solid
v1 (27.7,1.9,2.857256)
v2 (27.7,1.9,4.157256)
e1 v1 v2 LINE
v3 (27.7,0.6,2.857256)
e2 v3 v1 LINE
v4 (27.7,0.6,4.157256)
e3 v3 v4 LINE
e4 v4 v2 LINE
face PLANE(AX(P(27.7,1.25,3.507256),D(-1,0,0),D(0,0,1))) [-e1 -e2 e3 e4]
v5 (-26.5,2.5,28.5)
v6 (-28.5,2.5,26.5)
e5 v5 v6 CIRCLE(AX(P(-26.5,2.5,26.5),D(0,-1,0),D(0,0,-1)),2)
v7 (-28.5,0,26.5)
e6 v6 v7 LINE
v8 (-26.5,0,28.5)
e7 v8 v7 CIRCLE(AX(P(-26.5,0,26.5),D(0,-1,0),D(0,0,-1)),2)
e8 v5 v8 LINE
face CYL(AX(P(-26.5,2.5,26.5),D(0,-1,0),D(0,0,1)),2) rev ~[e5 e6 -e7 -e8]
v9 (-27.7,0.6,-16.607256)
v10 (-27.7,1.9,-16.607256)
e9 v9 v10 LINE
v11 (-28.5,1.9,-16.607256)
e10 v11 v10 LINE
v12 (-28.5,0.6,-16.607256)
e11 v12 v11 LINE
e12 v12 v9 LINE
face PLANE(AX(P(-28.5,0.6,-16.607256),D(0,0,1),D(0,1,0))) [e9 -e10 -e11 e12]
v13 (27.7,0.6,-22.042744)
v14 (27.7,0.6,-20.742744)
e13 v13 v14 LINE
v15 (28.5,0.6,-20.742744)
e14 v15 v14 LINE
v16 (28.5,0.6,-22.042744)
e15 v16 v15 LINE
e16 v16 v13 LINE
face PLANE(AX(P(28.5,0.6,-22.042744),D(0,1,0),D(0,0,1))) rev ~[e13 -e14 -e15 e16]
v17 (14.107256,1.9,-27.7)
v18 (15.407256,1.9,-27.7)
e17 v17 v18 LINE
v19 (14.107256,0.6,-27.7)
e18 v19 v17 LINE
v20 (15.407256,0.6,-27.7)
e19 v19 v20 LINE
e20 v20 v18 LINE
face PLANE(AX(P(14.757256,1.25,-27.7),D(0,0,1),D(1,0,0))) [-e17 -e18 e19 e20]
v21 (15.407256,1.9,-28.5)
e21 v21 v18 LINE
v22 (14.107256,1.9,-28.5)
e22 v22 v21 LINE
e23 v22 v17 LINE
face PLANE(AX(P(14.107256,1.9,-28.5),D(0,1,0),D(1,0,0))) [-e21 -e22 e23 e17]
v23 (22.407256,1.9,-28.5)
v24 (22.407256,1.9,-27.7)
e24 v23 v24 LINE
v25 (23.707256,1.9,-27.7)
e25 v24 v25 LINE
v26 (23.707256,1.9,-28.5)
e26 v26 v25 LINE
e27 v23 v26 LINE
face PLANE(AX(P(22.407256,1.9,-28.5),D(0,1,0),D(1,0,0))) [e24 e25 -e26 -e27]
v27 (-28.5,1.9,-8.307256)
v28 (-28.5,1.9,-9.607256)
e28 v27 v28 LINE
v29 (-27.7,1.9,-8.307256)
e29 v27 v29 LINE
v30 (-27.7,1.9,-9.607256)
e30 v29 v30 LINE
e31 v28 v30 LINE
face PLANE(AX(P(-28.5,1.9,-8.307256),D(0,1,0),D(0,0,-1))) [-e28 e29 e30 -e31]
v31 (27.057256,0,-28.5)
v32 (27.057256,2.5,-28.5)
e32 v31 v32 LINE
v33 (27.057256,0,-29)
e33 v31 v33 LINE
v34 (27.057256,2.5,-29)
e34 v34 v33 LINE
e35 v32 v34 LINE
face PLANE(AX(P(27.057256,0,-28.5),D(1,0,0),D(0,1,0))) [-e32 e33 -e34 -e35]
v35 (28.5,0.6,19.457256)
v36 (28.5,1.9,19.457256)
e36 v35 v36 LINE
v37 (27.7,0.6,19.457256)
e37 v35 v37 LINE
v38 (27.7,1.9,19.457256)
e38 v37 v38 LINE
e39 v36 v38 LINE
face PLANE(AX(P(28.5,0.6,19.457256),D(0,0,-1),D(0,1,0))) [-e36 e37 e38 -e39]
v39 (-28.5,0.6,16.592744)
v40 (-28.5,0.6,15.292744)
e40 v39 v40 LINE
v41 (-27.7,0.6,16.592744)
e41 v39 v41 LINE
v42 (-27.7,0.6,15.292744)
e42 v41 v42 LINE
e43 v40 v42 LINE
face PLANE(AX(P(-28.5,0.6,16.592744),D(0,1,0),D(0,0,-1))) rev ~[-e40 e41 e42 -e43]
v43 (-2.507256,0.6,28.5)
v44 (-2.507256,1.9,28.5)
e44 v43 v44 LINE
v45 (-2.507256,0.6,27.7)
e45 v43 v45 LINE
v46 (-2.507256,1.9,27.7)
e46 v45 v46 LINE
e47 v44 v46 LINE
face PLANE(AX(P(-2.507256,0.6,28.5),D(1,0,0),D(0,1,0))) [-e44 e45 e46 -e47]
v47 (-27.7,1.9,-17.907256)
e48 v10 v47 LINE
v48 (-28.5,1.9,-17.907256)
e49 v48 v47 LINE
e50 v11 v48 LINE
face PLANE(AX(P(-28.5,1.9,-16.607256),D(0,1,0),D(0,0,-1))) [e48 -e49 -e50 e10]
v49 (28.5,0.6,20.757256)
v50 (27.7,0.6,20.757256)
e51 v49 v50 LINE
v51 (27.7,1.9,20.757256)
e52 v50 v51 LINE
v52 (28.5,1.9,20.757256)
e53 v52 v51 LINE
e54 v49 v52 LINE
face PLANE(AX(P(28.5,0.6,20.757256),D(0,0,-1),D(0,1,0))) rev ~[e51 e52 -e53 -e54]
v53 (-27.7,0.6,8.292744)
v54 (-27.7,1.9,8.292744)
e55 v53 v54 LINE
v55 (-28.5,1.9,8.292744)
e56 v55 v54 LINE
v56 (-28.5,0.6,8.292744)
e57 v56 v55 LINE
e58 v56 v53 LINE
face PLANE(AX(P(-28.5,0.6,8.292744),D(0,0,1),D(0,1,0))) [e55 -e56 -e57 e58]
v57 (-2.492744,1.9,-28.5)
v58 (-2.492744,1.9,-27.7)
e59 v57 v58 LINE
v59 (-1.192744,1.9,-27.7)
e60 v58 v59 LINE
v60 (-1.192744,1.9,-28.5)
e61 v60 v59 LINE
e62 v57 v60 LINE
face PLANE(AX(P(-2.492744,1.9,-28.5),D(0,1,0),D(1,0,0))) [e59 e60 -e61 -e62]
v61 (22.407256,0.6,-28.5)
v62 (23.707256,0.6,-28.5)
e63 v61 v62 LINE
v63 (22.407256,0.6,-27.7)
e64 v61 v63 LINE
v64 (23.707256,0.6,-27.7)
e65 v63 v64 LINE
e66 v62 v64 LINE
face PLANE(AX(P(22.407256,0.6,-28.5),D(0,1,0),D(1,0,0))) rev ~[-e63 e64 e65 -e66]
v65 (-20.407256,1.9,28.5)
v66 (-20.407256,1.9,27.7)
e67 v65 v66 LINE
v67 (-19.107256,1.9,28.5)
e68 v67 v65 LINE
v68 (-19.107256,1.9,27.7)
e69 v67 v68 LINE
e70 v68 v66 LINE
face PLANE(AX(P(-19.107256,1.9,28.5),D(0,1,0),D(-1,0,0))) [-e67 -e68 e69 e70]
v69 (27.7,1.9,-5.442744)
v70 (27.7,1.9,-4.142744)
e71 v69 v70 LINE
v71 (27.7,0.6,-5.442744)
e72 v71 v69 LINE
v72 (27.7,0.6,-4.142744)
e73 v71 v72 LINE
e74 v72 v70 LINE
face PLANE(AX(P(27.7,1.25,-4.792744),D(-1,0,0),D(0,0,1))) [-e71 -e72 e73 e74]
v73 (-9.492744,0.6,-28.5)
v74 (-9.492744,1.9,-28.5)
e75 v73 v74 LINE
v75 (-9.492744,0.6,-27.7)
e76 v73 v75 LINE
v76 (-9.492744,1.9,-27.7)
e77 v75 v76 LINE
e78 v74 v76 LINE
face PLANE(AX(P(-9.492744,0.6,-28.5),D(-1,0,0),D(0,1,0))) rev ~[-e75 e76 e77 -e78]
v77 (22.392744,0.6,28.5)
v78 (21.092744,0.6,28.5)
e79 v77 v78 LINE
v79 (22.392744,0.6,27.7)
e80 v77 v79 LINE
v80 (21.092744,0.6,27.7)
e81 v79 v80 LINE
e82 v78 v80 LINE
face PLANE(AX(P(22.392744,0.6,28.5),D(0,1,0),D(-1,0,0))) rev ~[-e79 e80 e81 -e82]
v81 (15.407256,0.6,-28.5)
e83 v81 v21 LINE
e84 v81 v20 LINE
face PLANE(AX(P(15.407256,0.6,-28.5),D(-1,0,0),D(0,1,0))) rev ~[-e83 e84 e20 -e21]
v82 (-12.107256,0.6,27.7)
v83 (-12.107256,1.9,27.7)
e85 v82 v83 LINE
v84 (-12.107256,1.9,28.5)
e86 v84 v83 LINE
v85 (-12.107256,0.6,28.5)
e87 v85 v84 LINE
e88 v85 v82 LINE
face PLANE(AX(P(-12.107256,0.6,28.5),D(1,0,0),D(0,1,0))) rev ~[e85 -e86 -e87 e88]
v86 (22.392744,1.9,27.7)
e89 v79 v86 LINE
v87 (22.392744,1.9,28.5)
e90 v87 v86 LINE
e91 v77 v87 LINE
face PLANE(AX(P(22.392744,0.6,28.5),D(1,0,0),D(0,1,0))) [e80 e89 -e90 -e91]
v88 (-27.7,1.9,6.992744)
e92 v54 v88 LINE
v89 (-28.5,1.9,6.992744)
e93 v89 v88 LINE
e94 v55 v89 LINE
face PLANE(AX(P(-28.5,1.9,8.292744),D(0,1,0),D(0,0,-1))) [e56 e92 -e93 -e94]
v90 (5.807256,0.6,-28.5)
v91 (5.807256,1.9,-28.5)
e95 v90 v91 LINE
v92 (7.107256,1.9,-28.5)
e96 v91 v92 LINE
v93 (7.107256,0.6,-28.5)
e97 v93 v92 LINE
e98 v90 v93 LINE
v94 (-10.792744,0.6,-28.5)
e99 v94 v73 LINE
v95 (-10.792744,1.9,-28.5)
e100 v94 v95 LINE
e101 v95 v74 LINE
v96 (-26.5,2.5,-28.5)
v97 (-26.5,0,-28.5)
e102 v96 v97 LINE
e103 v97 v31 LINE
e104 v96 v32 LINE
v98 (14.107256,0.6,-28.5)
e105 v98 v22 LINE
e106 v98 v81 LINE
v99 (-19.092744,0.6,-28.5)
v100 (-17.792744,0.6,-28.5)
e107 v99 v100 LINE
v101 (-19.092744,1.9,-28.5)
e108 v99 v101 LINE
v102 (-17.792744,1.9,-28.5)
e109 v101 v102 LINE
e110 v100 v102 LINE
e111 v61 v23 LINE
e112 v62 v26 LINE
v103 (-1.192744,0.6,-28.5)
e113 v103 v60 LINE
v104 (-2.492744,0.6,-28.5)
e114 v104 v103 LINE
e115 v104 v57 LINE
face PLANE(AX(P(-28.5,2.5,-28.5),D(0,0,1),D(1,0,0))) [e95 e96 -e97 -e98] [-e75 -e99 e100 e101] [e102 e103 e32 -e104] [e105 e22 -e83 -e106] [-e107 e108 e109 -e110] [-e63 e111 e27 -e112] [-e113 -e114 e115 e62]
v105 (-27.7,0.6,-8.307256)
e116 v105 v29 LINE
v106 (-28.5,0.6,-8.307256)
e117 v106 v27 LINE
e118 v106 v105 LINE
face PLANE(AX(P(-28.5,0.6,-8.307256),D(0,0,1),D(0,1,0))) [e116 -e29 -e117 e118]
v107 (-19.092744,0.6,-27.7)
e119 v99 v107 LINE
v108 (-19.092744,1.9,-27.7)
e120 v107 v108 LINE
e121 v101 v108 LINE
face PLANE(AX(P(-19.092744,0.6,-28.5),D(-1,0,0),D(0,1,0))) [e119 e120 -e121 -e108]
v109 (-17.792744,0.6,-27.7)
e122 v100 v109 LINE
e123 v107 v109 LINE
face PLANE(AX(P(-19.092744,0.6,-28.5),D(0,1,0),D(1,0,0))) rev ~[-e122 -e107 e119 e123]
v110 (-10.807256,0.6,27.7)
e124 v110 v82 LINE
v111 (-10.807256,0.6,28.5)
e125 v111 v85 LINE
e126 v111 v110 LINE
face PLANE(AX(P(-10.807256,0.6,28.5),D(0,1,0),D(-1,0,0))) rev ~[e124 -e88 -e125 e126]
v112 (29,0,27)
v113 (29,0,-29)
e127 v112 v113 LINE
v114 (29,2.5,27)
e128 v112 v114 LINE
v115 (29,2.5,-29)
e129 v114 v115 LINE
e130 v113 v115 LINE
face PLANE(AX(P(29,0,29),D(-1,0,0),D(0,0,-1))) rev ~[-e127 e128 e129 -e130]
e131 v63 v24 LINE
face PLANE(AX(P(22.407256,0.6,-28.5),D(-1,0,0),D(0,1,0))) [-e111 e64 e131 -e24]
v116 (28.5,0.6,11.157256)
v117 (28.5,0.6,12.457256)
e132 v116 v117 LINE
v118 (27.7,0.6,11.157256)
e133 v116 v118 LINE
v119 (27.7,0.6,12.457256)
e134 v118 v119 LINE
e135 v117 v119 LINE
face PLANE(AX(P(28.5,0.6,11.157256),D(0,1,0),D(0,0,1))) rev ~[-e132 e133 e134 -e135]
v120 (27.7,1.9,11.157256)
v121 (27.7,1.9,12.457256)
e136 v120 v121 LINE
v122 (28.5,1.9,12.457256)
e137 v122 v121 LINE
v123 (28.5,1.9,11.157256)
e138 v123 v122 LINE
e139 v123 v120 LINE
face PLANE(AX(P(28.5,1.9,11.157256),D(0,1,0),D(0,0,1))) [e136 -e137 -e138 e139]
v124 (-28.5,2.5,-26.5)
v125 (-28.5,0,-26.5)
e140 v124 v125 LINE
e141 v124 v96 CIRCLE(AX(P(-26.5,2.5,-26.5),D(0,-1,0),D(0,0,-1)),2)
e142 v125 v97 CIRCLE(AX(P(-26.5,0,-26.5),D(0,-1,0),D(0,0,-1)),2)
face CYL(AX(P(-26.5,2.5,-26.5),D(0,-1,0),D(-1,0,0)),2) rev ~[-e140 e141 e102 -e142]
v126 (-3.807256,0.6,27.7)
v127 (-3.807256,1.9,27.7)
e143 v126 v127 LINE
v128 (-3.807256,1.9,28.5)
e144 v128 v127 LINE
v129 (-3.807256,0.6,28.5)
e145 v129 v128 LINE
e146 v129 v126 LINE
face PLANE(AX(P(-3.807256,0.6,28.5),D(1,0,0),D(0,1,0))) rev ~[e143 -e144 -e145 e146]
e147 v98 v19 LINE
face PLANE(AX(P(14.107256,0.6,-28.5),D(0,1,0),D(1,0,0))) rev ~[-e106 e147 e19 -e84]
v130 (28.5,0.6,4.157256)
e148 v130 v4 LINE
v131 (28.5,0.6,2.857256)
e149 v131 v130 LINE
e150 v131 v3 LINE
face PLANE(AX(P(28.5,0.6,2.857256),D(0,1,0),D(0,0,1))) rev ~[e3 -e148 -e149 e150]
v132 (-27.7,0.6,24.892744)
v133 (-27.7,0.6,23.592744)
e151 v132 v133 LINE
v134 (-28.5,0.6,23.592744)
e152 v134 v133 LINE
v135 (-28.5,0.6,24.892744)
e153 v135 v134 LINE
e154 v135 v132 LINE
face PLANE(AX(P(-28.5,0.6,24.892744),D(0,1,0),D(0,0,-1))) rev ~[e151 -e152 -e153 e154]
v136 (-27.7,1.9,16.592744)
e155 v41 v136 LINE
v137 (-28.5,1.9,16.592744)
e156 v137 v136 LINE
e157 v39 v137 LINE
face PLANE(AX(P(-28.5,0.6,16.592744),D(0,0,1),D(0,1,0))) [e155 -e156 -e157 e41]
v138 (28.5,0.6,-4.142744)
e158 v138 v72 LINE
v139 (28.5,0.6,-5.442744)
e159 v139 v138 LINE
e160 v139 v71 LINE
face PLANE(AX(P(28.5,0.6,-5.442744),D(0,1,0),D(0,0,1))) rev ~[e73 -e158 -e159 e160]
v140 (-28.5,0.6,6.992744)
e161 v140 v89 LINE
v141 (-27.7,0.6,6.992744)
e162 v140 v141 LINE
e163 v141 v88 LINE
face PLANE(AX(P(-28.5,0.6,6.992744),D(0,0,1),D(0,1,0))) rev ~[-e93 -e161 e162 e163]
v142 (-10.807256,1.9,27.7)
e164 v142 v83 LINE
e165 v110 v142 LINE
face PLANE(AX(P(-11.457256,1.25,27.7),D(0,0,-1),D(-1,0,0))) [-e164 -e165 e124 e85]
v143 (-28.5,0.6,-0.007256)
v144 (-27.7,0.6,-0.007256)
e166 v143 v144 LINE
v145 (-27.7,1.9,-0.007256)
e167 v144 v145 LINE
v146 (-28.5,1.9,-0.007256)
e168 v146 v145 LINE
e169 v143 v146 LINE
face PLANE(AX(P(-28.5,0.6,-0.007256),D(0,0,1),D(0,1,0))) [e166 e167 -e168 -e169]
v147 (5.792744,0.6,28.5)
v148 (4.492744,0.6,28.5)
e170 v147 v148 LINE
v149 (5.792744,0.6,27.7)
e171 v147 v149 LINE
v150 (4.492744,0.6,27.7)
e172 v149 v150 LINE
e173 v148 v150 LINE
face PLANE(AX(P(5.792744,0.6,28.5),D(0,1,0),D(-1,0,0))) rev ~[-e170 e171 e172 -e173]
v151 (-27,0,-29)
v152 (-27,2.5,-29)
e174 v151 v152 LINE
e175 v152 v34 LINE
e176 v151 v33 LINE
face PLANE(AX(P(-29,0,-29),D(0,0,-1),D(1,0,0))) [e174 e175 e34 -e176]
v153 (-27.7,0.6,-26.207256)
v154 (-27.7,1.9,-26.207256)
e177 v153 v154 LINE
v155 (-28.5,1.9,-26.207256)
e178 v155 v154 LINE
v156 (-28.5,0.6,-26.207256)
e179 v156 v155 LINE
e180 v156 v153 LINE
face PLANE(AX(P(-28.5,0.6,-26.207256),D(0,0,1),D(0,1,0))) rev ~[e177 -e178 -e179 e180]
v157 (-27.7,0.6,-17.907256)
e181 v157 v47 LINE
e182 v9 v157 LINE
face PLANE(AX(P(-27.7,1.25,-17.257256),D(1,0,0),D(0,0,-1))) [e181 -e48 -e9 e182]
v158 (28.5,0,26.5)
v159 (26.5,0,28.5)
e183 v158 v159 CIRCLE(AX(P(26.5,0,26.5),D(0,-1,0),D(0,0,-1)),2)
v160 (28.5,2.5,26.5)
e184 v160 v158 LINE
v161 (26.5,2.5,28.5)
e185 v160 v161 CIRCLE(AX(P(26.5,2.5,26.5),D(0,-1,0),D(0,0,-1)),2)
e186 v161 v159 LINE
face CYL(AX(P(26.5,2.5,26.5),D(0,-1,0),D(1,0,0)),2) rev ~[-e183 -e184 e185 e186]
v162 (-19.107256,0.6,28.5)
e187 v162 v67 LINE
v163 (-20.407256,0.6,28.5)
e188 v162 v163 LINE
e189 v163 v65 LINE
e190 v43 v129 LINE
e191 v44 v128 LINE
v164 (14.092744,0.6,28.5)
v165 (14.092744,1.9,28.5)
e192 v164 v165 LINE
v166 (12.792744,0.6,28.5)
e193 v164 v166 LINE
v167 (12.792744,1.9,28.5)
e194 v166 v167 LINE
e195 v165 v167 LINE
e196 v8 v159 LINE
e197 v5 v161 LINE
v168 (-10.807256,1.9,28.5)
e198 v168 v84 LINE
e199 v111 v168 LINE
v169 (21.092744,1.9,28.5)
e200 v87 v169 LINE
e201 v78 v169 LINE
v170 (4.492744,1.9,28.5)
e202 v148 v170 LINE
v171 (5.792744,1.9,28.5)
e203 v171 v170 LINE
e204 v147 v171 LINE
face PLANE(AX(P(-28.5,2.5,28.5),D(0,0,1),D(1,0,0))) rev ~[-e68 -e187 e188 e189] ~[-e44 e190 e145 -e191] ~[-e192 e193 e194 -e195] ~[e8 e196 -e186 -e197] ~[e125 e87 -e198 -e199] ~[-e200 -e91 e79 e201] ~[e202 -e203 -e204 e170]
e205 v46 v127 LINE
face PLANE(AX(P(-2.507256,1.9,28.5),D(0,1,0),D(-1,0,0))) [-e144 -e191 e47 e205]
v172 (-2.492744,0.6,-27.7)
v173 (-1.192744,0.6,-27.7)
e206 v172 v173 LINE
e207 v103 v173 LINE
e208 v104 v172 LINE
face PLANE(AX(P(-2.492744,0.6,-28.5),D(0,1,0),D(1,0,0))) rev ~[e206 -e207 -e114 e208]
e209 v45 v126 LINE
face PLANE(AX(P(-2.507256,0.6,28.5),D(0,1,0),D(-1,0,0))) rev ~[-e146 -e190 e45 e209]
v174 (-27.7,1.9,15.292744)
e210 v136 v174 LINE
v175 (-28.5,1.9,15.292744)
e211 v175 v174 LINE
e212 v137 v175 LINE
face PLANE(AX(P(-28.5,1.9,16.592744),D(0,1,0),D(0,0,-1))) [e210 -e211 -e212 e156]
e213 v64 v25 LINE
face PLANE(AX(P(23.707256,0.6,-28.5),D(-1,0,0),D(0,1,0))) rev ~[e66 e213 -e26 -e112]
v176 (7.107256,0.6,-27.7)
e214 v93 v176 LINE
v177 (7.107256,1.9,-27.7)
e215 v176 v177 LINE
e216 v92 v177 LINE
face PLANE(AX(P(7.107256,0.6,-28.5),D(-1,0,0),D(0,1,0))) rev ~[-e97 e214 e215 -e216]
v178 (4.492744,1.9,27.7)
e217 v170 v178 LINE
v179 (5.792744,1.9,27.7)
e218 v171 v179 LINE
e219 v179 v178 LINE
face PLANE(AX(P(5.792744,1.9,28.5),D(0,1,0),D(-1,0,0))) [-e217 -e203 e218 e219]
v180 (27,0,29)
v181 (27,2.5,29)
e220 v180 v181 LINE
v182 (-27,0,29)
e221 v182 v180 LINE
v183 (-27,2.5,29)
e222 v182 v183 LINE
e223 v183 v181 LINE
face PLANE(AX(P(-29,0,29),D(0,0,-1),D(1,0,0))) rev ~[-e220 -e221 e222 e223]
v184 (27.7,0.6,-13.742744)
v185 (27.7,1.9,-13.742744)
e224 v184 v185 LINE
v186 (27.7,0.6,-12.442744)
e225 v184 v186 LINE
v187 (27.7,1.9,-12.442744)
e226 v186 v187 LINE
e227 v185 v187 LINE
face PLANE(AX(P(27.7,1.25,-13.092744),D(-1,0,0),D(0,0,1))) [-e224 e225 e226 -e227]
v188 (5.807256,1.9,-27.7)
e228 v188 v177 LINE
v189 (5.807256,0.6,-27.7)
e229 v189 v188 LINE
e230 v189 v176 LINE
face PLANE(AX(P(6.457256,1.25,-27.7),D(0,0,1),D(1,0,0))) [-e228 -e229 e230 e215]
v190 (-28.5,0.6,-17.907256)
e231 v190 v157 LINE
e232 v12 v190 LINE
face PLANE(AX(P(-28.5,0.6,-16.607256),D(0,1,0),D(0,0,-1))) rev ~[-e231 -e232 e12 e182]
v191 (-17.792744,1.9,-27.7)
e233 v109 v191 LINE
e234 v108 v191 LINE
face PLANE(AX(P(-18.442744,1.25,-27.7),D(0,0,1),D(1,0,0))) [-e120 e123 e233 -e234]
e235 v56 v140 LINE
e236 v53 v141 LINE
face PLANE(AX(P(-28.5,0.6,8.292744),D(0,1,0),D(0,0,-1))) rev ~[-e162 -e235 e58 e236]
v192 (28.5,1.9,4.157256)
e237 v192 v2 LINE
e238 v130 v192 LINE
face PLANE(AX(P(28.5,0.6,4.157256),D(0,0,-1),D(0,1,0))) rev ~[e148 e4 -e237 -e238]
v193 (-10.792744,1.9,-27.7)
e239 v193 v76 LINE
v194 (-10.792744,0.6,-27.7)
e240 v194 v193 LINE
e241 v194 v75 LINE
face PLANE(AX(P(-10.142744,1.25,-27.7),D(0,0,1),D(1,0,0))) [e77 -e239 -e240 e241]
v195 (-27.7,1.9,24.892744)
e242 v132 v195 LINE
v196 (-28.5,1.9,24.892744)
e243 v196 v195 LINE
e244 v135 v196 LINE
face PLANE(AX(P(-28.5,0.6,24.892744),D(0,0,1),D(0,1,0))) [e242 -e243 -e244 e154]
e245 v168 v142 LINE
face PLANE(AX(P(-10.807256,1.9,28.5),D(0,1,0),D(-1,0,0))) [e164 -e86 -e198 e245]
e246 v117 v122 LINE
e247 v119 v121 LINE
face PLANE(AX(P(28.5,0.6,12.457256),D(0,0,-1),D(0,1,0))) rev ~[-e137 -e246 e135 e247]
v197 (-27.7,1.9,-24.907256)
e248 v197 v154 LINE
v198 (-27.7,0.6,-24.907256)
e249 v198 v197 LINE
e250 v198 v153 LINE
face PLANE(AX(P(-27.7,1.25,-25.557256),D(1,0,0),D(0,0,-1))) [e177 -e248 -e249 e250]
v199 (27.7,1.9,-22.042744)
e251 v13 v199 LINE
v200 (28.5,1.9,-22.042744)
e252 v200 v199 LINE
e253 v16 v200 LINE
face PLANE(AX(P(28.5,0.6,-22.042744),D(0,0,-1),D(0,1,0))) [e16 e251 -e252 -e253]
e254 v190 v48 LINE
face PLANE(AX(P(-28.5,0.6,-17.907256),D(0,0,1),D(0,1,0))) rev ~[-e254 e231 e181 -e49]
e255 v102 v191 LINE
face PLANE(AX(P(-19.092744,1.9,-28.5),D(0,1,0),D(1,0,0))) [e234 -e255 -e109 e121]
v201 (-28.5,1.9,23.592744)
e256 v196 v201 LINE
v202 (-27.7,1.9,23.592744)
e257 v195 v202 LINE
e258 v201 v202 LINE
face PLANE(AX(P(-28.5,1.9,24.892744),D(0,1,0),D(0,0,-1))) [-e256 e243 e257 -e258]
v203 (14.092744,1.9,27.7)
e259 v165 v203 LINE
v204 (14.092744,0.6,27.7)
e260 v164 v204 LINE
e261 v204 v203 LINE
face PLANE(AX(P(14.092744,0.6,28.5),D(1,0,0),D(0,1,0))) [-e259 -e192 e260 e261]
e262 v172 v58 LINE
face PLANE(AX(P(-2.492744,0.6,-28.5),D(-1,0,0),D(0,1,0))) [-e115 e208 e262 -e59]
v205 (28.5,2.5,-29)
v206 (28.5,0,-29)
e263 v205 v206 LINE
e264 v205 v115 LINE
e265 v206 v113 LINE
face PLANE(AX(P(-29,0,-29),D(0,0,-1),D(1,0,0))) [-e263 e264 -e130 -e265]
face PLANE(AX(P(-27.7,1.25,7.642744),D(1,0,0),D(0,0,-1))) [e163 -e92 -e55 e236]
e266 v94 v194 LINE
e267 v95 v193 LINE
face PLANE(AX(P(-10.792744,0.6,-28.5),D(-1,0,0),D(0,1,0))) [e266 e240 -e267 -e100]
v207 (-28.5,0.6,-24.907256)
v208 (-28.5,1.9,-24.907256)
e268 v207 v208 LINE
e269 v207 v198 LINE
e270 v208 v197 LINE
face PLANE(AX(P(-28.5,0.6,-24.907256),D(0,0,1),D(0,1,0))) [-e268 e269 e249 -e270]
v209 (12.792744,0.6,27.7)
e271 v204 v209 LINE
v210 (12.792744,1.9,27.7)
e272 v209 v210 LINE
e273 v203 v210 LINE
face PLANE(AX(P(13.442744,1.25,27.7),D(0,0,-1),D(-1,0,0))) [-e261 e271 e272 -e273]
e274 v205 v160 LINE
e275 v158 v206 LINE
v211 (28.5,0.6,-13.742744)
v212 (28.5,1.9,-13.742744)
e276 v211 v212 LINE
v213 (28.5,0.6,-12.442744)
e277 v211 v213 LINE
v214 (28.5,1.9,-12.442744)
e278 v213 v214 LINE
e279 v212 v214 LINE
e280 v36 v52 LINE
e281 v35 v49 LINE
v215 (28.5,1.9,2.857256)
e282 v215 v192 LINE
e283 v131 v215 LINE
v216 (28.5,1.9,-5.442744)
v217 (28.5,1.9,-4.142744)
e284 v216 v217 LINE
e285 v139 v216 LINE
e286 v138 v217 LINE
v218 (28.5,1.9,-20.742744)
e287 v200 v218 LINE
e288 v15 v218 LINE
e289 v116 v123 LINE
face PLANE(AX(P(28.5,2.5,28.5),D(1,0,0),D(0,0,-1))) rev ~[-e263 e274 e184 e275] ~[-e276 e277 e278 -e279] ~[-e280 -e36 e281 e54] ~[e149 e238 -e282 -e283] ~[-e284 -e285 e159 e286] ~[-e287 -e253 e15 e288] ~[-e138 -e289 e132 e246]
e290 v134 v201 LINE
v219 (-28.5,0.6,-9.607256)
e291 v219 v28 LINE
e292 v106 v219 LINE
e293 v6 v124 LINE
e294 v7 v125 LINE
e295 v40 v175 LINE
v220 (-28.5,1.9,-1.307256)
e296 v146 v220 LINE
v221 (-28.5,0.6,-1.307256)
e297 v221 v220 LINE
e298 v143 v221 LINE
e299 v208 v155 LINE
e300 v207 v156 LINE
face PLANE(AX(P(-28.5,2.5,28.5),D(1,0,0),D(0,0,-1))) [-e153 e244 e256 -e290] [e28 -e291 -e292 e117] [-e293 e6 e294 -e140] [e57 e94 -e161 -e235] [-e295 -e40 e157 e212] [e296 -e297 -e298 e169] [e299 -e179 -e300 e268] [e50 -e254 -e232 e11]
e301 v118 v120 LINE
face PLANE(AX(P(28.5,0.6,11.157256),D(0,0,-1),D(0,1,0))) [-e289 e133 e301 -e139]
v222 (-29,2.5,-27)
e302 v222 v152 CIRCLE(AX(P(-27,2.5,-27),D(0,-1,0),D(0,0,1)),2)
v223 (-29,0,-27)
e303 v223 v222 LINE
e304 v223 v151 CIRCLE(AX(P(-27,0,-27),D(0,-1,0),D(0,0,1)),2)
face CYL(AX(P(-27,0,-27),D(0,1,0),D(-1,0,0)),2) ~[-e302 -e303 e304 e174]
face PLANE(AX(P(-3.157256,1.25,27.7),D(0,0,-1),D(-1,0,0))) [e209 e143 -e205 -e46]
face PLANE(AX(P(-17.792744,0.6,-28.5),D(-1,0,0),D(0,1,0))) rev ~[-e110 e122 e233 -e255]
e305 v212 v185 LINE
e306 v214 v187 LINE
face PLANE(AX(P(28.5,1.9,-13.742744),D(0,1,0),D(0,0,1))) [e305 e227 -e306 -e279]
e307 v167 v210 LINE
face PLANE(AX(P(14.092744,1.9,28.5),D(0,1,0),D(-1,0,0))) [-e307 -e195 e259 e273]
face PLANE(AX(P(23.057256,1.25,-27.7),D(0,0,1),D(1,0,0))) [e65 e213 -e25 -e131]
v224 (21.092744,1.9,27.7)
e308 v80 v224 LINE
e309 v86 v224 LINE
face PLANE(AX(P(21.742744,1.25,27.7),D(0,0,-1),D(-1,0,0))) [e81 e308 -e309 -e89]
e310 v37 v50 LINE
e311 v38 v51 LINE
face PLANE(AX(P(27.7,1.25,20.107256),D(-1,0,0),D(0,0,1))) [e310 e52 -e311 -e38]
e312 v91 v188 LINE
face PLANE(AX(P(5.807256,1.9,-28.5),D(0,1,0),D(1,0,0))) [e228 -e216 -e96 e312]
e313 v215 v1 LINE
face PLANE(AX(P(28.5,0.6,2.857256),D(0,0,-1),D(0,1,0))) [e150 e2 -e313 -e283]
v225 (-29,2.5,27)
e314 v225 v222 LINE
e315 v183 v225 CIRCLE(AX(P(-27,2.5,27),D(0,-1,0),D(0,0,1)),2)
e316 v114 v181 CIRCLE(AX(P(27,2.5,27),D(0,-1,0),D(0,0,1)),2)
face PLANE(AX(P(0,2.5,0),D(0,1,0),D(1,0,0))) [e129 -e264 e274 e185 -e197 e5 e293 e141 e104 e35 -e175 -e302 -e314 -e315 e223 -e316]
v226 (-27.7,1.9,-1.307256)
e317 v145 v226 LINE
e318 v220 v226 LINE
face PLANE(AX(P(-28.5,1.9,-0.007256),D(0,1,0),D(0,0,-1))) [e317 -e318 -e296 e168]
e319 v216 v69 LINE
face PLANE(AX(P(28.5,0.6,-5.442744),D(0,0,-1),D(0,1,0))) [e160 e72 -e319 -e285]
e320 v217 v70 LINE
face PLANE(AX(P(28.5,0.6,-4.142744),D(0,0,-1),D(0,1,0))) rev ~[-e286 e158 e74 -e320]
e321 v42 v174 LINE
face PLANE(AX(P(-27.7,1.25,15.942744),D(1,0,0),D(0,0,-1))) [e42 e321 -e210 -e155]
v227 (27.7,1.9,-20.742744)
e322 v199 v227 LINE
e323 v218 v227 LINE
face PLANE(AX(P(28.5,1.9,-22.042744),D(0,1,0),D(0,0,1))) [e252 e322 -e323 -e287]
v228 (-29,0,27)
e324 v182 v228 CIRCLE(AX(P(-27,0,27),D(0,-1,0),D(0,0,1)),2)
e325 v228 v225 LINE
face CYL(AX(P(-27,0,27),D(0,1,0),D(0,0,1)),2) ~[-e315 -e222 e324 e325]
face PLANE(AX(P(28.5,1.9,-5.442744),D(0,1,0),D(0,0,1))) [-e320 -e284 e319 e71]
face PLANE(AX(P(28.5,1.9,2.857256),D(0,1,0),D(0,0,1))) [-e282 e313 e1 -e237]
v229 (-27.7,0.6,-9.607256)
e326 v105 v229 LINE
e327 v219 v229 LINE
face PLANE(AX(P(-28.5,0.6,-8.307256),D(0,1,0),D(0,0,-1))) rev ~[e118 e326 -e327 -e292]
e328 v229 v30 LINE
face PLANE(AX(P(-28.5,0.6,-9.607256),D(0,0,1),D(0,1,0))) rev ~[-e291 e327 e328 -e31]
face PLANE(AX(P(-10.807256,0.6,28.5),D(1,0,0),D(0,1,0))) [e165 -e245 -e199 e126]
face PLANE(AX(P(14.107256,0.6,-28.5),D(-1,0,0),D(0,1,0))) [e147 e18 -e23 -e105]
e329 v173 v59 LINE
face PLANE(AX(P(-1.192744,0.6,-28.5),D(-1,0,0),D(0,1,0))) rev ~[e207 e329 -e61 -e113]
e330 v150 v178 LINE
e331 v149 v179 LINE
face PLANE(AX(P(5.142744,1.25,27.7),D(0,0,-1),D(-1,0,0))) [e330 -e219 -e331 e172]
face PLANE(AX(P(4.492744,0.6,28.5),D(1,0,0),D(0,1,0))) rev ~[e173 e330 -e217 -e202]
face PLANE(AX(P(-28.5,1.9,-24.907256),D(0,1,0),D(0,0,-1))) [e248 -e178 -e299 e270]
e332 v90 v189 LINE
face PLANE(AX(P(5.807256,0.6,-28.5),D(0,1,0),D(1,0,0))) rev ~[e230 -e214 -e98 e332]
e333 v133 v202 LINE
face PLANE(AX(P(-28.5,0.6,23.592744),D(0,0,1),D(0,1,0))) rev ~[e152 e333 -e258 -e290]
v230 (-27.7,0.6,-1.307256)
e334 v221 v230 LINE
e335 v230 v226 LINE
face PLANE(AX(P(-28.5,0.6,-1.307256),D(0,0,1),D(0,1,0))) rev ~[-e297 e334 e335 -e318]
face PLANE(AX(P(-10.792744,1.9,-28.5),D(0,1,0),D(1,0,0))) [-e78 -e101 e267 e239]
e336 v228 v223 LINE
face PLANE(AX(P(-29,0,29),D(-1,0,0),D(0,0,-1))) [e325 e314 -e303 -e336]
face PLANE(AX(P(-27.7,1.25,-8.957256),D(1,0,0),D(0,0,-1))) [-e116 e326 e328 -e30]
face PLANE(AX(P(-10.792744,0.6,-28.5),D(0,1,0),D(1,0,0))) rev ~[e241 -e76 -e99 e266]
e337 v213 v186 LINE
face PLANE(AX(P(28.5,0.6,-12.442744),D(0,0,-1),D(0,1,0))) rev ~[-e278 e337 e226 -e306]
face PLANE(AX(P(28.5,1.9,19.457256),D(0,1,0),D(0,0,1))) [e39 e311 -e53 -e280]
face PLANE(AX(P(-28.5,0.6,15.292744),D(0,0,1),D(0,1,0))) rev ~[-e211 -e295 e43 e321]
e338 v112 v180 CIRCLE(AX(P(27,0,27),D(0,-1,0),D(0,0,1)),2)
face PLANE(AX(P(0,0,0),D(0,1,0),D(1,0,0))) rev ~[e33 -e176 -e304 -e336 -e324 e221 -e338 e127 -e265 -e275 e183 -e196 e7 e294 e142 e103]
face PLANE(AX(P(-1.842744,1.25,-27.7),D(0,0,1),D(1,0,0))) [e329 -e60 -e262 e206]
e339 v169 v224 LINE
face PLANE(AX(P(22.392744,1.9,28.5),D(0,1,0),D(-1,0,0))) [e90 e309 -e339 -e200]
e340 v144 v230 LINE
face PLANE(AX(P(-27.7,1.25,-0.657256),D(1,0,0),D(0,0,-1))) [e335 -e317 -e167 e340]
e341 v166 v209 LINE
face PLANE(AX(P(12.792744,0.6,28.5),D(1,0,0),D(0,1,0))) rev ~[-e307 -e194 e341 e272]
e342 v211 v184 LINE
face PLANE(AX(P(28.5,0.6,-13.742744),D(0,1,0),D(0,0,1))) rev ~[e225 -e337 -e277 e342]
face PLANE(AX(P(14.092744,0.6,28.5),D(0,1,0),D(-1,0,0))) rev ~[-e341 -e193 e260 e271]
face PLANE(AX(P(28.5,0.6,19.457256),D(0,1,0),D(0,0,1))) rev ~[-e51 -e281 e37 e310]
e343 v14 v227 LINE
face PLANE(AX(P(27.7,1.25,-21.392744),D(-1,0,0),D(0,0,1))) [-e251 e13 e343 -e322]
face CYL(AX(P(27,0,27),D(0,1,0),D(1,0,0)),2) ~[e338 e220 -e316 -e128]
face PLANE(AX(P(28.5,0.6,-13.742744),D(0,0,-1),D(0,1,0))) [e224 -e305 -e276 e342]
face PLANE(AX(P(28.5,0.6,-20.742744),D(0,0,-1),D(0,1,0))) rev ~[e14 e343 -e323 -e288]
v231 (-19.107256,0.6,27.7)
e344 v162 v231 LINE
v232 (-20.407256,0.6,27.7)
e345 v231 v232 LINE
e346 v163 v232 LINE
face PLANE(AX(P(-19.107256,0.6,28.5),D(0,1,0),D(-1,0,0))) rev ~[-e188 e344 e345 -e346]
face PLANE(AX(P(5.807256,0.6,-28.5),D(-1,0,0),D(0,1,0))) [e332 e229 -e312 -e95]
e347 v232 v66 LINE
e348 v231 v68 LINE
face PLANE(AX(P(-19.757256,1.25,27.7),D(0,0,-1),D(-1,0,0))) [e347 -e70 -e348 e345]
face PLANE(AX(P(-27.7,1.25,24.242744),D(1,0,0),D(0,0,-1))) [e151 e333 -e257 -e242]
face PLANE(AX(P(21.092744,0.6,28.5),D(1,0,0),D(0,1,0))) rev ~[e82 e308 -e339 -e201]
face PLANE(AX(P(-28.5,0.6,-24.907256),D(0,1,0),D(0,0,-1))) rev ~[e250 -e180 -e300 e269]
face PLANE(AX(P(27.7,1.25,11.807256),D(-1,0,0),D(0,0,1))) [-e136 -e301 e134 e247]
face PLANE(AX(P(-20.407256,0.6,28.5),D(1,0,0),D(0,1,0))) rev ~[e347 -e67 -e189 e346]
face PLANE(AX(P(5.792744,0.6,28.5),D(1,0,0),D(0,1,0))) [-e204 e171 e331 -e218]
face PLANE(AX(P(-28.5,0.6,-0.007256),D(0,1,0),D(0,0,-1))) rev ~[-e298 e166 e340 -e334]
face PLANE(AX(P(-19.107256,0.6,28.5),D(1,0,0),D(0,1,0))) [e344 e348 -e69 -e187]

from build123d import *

# Parameters (mm, degrees)
SKETCH_1_W               = 58
SKETCH_1_H               = 58
EXTRUDE_1_DEPTH          = 2.5
SKETCH_2_W               = 57
SKETCH_2_H               = 57
CUT_EXTRUDE_7_DEPTH      = 1
CUT_EXTRUDE_7_DEPTH_BACK = 3.5
SKETCH_5_W               = 1.4427437
SKETCH_5_H               = 2.5
CUT_EXTRUDE_8_DEPTH      = 1.5
SKETCH_6_W               = 1.3
SKETCH_6_H               = 1.3
EXTRUDE_5_DEPTH          = 0.8
FILLET_4_R               = 2
FILLET_5_R               = 2
SKETCH_8_W               = 1.3
SKETCH_8_H               = 1.3
EXTRUDE_6_DEPTH          = 0.8
SKETCH_10_W              = 1.3
SKETCH_10_H              = 1.3
EXTRUDE_8_DEPTH          = 0.8
SKETCH_12_W              = 1.3
SKETCH_12_H              = 1.3
EXTRUDE_9_DEPTH          = 0.8


with BuildPart() as part:
    # 草图1 → 凸台-拉伸1 (new body)
    with BuildSketch(Plane(origin=(0, 0, 0), x_dir=(1, 0, 0), z_dir=(0, 1, 0))):
        Rectangle(SKETCH_1_W, SKETCH_1_H)
    extrude(amount=EXTRUDE_1_DEPTH)

    # 草图2 → 切除-拉伸7 (cut, two sides)
    with BuildSketch(Plane(origin=(0, 2.5, 0), x_dir=(1, 0, 0), z_dir=(0, 1, 0))) as cut_extrude_7_sk:
        Rectangle(SKETCH_2_W, SKETCH_2_H)
    extrude(amount=CUT_EXTRUDE_7_DEPTH, mode=Mode.SUBTRACT)
    extrude(cut_extrude_7_sk.sketch, amount=-CUT_EXTRUDE_7_DEPTH_BACK, mode=Mode.SUBTRACT)

    # 草图5 → 切除-拉伸8 (cut, through all)
    with BuildSketch(Plane.XY.offset(-28.5)):
        with Locations((27.77862815, 1.25)):
            Rectangle(SKETCH_5_W, SKETCH_5_H)
    extrude(amount=-CUT_EXTRUDE_8_DEPTH, mode=Mode.SUBTRACT)

    # 草图6 → 凸台-拉伸5 (add)
    with BuildSketch(Plane.XY.offset(-28.5)):
        with Locations((14.7572563, 1.25)):
            Rectangle(SKETCH_6_W, SKETCH_6_H)
        with Locations((23.0572563, 1.25)):
            Rectangle(SKETCH_6_W, SKETCH_6_H)
        with Locations((6.4572563, 1.25)):
            Rectangle(SKETCH_6_W, SKETCH_6_H)
        with Locations((-1.8427437, 1.25)):
            Rectangle(SKETCH_6_W, SKETCH_6_H)
        with Locations((-10.1427437, 1.25)):
            Rectangle(SKETCH_6_W, SKETCH_6_H)
        with Locations((-18.4427437, 1.25)):
            Rectangle(SKETCH_6_W, SKETCH_6_H)
    extrude(amount=EXTRUDE_5_DEPTH)

    # 圆角4
    fillet_4_edges = [part.edges().sort_by_distance(p)[0] for p in [
        (28.5, 1.25, 28.5),
        (-28.5, 1.25, 28.5),
        (-28.5, 1.25, -28.5),
    ]]
    fillet(fillet_4_edges, radius=FILLET_4_R)

    # 圆角5
    fillet_5_edges = [part.edges().sort_by_distance(p)[0] for p in [
        (29, 1.25, 29),
        (-29, 1.25, 29),
        (-29, 1.25, -29),
    ]]
    fillet(fillet_5_edges, radius=FILLET_5_R)

    # 草图8 → 凸台-拉伸6 (add)
    with BuildSketch(Plane(origin=(-28.5, 0, 0), x_dir=(0, 0, -1), z_dir=(1, 0, 0))):
        with Locations((17.2572563, 1.25)):
            Rectangle(SKETCH_8_W, SKETCH_8_H)
        with Locations((25.5572563, 1.25)):
            Rectangle(SKETCH_8_W, SKETCH_8_H)
        with Locations((8.9572563, 1.25)):
            Rectangle(SKETCH_8_W, SKETCH_8_H)
        with Locations((0.6572563, 1.25)):
            Rectangle(SKETCH_8_W, SKETCH_8_H)
        with Locations((-7.6427437, 1.25)):
            Rectangle(SKETCH_8_W, SKETCH_8_H)
        with Locations((-15.9427437, 1.25)):
            Rectangle(SKETCH_8_W, SKETCH_8_H)
        with Locations((-24.2427437, 1.25)):
            Rectangle(SKETCH_8_W, SKETCH_8_H)
    extrude(amount=EXTRUDE_6_DEPTH)

    # 草图10 → 凸台-拉伸8 (add)
    with BuildSketch(Plane(origin=(0, 0, 28.5), x_dir=(-1, 0, 0), z_dir=(0, 0, -1))):
        with Locations((19.7572563, 1.25)):
            Rectangle(SKETCH_10_W, SKETCH_10_H)
        with Locations((11.4572563, 1.25)):
            Rectangle(SKETCH_10_W, SKETCH_10_H)
        with Locations((3.1572563, 1.25)):
            Rectangle(SKETCH_10_W, SKETCH_10_H)
        with Locations((-5.1427437, 1.25)):
            Rectangle(SKETCH_10_W, SKETCH_10_H)
        with Locations((-13.4427437, 1.25)):
            Rectangle(SKETCH_10_W, SKETCH_10_H)
        with Locations((-21.7427437, 1.25)):
            Rectangle(SKETCH_10_W, SKETCH_10_H)
    extrude(amount=EXTRUDE_8_DEPTH)

    # 草图12 → 凸台-拉伸9 (add)
    with BuildSketch(Plane.ZY.offset(-28.5)):
        with Locations((20.1072563, 1.25)):
            Rectangle(SKETCH_12_W, SKETCH_12_H)
        with Locations((11.8072563, 1.25)):
            Rectangle(SKETCH_12_W, SKETCH_12_H)
        with Locations((3.5072563, 1.25)):
            Rectangle(SKETCH_12_W, SKETCH_12_H)
        with Locations((-4.7927437, 1.25)):
            Rectangle(SKETCH_12_W, SKETCH_12_H)
        with Locations((-13.0927437, 1.25)):
            Rectangle(SKETCH_12_W, SKETCH_12_H)
        with Locations((-21.3927437, 1.25)):
            Rectangle(SKETCH_12_W, SKETCH_12_H)
    extrude(amount=EXTRUDE_9_DEPTH)


solid = part.part
